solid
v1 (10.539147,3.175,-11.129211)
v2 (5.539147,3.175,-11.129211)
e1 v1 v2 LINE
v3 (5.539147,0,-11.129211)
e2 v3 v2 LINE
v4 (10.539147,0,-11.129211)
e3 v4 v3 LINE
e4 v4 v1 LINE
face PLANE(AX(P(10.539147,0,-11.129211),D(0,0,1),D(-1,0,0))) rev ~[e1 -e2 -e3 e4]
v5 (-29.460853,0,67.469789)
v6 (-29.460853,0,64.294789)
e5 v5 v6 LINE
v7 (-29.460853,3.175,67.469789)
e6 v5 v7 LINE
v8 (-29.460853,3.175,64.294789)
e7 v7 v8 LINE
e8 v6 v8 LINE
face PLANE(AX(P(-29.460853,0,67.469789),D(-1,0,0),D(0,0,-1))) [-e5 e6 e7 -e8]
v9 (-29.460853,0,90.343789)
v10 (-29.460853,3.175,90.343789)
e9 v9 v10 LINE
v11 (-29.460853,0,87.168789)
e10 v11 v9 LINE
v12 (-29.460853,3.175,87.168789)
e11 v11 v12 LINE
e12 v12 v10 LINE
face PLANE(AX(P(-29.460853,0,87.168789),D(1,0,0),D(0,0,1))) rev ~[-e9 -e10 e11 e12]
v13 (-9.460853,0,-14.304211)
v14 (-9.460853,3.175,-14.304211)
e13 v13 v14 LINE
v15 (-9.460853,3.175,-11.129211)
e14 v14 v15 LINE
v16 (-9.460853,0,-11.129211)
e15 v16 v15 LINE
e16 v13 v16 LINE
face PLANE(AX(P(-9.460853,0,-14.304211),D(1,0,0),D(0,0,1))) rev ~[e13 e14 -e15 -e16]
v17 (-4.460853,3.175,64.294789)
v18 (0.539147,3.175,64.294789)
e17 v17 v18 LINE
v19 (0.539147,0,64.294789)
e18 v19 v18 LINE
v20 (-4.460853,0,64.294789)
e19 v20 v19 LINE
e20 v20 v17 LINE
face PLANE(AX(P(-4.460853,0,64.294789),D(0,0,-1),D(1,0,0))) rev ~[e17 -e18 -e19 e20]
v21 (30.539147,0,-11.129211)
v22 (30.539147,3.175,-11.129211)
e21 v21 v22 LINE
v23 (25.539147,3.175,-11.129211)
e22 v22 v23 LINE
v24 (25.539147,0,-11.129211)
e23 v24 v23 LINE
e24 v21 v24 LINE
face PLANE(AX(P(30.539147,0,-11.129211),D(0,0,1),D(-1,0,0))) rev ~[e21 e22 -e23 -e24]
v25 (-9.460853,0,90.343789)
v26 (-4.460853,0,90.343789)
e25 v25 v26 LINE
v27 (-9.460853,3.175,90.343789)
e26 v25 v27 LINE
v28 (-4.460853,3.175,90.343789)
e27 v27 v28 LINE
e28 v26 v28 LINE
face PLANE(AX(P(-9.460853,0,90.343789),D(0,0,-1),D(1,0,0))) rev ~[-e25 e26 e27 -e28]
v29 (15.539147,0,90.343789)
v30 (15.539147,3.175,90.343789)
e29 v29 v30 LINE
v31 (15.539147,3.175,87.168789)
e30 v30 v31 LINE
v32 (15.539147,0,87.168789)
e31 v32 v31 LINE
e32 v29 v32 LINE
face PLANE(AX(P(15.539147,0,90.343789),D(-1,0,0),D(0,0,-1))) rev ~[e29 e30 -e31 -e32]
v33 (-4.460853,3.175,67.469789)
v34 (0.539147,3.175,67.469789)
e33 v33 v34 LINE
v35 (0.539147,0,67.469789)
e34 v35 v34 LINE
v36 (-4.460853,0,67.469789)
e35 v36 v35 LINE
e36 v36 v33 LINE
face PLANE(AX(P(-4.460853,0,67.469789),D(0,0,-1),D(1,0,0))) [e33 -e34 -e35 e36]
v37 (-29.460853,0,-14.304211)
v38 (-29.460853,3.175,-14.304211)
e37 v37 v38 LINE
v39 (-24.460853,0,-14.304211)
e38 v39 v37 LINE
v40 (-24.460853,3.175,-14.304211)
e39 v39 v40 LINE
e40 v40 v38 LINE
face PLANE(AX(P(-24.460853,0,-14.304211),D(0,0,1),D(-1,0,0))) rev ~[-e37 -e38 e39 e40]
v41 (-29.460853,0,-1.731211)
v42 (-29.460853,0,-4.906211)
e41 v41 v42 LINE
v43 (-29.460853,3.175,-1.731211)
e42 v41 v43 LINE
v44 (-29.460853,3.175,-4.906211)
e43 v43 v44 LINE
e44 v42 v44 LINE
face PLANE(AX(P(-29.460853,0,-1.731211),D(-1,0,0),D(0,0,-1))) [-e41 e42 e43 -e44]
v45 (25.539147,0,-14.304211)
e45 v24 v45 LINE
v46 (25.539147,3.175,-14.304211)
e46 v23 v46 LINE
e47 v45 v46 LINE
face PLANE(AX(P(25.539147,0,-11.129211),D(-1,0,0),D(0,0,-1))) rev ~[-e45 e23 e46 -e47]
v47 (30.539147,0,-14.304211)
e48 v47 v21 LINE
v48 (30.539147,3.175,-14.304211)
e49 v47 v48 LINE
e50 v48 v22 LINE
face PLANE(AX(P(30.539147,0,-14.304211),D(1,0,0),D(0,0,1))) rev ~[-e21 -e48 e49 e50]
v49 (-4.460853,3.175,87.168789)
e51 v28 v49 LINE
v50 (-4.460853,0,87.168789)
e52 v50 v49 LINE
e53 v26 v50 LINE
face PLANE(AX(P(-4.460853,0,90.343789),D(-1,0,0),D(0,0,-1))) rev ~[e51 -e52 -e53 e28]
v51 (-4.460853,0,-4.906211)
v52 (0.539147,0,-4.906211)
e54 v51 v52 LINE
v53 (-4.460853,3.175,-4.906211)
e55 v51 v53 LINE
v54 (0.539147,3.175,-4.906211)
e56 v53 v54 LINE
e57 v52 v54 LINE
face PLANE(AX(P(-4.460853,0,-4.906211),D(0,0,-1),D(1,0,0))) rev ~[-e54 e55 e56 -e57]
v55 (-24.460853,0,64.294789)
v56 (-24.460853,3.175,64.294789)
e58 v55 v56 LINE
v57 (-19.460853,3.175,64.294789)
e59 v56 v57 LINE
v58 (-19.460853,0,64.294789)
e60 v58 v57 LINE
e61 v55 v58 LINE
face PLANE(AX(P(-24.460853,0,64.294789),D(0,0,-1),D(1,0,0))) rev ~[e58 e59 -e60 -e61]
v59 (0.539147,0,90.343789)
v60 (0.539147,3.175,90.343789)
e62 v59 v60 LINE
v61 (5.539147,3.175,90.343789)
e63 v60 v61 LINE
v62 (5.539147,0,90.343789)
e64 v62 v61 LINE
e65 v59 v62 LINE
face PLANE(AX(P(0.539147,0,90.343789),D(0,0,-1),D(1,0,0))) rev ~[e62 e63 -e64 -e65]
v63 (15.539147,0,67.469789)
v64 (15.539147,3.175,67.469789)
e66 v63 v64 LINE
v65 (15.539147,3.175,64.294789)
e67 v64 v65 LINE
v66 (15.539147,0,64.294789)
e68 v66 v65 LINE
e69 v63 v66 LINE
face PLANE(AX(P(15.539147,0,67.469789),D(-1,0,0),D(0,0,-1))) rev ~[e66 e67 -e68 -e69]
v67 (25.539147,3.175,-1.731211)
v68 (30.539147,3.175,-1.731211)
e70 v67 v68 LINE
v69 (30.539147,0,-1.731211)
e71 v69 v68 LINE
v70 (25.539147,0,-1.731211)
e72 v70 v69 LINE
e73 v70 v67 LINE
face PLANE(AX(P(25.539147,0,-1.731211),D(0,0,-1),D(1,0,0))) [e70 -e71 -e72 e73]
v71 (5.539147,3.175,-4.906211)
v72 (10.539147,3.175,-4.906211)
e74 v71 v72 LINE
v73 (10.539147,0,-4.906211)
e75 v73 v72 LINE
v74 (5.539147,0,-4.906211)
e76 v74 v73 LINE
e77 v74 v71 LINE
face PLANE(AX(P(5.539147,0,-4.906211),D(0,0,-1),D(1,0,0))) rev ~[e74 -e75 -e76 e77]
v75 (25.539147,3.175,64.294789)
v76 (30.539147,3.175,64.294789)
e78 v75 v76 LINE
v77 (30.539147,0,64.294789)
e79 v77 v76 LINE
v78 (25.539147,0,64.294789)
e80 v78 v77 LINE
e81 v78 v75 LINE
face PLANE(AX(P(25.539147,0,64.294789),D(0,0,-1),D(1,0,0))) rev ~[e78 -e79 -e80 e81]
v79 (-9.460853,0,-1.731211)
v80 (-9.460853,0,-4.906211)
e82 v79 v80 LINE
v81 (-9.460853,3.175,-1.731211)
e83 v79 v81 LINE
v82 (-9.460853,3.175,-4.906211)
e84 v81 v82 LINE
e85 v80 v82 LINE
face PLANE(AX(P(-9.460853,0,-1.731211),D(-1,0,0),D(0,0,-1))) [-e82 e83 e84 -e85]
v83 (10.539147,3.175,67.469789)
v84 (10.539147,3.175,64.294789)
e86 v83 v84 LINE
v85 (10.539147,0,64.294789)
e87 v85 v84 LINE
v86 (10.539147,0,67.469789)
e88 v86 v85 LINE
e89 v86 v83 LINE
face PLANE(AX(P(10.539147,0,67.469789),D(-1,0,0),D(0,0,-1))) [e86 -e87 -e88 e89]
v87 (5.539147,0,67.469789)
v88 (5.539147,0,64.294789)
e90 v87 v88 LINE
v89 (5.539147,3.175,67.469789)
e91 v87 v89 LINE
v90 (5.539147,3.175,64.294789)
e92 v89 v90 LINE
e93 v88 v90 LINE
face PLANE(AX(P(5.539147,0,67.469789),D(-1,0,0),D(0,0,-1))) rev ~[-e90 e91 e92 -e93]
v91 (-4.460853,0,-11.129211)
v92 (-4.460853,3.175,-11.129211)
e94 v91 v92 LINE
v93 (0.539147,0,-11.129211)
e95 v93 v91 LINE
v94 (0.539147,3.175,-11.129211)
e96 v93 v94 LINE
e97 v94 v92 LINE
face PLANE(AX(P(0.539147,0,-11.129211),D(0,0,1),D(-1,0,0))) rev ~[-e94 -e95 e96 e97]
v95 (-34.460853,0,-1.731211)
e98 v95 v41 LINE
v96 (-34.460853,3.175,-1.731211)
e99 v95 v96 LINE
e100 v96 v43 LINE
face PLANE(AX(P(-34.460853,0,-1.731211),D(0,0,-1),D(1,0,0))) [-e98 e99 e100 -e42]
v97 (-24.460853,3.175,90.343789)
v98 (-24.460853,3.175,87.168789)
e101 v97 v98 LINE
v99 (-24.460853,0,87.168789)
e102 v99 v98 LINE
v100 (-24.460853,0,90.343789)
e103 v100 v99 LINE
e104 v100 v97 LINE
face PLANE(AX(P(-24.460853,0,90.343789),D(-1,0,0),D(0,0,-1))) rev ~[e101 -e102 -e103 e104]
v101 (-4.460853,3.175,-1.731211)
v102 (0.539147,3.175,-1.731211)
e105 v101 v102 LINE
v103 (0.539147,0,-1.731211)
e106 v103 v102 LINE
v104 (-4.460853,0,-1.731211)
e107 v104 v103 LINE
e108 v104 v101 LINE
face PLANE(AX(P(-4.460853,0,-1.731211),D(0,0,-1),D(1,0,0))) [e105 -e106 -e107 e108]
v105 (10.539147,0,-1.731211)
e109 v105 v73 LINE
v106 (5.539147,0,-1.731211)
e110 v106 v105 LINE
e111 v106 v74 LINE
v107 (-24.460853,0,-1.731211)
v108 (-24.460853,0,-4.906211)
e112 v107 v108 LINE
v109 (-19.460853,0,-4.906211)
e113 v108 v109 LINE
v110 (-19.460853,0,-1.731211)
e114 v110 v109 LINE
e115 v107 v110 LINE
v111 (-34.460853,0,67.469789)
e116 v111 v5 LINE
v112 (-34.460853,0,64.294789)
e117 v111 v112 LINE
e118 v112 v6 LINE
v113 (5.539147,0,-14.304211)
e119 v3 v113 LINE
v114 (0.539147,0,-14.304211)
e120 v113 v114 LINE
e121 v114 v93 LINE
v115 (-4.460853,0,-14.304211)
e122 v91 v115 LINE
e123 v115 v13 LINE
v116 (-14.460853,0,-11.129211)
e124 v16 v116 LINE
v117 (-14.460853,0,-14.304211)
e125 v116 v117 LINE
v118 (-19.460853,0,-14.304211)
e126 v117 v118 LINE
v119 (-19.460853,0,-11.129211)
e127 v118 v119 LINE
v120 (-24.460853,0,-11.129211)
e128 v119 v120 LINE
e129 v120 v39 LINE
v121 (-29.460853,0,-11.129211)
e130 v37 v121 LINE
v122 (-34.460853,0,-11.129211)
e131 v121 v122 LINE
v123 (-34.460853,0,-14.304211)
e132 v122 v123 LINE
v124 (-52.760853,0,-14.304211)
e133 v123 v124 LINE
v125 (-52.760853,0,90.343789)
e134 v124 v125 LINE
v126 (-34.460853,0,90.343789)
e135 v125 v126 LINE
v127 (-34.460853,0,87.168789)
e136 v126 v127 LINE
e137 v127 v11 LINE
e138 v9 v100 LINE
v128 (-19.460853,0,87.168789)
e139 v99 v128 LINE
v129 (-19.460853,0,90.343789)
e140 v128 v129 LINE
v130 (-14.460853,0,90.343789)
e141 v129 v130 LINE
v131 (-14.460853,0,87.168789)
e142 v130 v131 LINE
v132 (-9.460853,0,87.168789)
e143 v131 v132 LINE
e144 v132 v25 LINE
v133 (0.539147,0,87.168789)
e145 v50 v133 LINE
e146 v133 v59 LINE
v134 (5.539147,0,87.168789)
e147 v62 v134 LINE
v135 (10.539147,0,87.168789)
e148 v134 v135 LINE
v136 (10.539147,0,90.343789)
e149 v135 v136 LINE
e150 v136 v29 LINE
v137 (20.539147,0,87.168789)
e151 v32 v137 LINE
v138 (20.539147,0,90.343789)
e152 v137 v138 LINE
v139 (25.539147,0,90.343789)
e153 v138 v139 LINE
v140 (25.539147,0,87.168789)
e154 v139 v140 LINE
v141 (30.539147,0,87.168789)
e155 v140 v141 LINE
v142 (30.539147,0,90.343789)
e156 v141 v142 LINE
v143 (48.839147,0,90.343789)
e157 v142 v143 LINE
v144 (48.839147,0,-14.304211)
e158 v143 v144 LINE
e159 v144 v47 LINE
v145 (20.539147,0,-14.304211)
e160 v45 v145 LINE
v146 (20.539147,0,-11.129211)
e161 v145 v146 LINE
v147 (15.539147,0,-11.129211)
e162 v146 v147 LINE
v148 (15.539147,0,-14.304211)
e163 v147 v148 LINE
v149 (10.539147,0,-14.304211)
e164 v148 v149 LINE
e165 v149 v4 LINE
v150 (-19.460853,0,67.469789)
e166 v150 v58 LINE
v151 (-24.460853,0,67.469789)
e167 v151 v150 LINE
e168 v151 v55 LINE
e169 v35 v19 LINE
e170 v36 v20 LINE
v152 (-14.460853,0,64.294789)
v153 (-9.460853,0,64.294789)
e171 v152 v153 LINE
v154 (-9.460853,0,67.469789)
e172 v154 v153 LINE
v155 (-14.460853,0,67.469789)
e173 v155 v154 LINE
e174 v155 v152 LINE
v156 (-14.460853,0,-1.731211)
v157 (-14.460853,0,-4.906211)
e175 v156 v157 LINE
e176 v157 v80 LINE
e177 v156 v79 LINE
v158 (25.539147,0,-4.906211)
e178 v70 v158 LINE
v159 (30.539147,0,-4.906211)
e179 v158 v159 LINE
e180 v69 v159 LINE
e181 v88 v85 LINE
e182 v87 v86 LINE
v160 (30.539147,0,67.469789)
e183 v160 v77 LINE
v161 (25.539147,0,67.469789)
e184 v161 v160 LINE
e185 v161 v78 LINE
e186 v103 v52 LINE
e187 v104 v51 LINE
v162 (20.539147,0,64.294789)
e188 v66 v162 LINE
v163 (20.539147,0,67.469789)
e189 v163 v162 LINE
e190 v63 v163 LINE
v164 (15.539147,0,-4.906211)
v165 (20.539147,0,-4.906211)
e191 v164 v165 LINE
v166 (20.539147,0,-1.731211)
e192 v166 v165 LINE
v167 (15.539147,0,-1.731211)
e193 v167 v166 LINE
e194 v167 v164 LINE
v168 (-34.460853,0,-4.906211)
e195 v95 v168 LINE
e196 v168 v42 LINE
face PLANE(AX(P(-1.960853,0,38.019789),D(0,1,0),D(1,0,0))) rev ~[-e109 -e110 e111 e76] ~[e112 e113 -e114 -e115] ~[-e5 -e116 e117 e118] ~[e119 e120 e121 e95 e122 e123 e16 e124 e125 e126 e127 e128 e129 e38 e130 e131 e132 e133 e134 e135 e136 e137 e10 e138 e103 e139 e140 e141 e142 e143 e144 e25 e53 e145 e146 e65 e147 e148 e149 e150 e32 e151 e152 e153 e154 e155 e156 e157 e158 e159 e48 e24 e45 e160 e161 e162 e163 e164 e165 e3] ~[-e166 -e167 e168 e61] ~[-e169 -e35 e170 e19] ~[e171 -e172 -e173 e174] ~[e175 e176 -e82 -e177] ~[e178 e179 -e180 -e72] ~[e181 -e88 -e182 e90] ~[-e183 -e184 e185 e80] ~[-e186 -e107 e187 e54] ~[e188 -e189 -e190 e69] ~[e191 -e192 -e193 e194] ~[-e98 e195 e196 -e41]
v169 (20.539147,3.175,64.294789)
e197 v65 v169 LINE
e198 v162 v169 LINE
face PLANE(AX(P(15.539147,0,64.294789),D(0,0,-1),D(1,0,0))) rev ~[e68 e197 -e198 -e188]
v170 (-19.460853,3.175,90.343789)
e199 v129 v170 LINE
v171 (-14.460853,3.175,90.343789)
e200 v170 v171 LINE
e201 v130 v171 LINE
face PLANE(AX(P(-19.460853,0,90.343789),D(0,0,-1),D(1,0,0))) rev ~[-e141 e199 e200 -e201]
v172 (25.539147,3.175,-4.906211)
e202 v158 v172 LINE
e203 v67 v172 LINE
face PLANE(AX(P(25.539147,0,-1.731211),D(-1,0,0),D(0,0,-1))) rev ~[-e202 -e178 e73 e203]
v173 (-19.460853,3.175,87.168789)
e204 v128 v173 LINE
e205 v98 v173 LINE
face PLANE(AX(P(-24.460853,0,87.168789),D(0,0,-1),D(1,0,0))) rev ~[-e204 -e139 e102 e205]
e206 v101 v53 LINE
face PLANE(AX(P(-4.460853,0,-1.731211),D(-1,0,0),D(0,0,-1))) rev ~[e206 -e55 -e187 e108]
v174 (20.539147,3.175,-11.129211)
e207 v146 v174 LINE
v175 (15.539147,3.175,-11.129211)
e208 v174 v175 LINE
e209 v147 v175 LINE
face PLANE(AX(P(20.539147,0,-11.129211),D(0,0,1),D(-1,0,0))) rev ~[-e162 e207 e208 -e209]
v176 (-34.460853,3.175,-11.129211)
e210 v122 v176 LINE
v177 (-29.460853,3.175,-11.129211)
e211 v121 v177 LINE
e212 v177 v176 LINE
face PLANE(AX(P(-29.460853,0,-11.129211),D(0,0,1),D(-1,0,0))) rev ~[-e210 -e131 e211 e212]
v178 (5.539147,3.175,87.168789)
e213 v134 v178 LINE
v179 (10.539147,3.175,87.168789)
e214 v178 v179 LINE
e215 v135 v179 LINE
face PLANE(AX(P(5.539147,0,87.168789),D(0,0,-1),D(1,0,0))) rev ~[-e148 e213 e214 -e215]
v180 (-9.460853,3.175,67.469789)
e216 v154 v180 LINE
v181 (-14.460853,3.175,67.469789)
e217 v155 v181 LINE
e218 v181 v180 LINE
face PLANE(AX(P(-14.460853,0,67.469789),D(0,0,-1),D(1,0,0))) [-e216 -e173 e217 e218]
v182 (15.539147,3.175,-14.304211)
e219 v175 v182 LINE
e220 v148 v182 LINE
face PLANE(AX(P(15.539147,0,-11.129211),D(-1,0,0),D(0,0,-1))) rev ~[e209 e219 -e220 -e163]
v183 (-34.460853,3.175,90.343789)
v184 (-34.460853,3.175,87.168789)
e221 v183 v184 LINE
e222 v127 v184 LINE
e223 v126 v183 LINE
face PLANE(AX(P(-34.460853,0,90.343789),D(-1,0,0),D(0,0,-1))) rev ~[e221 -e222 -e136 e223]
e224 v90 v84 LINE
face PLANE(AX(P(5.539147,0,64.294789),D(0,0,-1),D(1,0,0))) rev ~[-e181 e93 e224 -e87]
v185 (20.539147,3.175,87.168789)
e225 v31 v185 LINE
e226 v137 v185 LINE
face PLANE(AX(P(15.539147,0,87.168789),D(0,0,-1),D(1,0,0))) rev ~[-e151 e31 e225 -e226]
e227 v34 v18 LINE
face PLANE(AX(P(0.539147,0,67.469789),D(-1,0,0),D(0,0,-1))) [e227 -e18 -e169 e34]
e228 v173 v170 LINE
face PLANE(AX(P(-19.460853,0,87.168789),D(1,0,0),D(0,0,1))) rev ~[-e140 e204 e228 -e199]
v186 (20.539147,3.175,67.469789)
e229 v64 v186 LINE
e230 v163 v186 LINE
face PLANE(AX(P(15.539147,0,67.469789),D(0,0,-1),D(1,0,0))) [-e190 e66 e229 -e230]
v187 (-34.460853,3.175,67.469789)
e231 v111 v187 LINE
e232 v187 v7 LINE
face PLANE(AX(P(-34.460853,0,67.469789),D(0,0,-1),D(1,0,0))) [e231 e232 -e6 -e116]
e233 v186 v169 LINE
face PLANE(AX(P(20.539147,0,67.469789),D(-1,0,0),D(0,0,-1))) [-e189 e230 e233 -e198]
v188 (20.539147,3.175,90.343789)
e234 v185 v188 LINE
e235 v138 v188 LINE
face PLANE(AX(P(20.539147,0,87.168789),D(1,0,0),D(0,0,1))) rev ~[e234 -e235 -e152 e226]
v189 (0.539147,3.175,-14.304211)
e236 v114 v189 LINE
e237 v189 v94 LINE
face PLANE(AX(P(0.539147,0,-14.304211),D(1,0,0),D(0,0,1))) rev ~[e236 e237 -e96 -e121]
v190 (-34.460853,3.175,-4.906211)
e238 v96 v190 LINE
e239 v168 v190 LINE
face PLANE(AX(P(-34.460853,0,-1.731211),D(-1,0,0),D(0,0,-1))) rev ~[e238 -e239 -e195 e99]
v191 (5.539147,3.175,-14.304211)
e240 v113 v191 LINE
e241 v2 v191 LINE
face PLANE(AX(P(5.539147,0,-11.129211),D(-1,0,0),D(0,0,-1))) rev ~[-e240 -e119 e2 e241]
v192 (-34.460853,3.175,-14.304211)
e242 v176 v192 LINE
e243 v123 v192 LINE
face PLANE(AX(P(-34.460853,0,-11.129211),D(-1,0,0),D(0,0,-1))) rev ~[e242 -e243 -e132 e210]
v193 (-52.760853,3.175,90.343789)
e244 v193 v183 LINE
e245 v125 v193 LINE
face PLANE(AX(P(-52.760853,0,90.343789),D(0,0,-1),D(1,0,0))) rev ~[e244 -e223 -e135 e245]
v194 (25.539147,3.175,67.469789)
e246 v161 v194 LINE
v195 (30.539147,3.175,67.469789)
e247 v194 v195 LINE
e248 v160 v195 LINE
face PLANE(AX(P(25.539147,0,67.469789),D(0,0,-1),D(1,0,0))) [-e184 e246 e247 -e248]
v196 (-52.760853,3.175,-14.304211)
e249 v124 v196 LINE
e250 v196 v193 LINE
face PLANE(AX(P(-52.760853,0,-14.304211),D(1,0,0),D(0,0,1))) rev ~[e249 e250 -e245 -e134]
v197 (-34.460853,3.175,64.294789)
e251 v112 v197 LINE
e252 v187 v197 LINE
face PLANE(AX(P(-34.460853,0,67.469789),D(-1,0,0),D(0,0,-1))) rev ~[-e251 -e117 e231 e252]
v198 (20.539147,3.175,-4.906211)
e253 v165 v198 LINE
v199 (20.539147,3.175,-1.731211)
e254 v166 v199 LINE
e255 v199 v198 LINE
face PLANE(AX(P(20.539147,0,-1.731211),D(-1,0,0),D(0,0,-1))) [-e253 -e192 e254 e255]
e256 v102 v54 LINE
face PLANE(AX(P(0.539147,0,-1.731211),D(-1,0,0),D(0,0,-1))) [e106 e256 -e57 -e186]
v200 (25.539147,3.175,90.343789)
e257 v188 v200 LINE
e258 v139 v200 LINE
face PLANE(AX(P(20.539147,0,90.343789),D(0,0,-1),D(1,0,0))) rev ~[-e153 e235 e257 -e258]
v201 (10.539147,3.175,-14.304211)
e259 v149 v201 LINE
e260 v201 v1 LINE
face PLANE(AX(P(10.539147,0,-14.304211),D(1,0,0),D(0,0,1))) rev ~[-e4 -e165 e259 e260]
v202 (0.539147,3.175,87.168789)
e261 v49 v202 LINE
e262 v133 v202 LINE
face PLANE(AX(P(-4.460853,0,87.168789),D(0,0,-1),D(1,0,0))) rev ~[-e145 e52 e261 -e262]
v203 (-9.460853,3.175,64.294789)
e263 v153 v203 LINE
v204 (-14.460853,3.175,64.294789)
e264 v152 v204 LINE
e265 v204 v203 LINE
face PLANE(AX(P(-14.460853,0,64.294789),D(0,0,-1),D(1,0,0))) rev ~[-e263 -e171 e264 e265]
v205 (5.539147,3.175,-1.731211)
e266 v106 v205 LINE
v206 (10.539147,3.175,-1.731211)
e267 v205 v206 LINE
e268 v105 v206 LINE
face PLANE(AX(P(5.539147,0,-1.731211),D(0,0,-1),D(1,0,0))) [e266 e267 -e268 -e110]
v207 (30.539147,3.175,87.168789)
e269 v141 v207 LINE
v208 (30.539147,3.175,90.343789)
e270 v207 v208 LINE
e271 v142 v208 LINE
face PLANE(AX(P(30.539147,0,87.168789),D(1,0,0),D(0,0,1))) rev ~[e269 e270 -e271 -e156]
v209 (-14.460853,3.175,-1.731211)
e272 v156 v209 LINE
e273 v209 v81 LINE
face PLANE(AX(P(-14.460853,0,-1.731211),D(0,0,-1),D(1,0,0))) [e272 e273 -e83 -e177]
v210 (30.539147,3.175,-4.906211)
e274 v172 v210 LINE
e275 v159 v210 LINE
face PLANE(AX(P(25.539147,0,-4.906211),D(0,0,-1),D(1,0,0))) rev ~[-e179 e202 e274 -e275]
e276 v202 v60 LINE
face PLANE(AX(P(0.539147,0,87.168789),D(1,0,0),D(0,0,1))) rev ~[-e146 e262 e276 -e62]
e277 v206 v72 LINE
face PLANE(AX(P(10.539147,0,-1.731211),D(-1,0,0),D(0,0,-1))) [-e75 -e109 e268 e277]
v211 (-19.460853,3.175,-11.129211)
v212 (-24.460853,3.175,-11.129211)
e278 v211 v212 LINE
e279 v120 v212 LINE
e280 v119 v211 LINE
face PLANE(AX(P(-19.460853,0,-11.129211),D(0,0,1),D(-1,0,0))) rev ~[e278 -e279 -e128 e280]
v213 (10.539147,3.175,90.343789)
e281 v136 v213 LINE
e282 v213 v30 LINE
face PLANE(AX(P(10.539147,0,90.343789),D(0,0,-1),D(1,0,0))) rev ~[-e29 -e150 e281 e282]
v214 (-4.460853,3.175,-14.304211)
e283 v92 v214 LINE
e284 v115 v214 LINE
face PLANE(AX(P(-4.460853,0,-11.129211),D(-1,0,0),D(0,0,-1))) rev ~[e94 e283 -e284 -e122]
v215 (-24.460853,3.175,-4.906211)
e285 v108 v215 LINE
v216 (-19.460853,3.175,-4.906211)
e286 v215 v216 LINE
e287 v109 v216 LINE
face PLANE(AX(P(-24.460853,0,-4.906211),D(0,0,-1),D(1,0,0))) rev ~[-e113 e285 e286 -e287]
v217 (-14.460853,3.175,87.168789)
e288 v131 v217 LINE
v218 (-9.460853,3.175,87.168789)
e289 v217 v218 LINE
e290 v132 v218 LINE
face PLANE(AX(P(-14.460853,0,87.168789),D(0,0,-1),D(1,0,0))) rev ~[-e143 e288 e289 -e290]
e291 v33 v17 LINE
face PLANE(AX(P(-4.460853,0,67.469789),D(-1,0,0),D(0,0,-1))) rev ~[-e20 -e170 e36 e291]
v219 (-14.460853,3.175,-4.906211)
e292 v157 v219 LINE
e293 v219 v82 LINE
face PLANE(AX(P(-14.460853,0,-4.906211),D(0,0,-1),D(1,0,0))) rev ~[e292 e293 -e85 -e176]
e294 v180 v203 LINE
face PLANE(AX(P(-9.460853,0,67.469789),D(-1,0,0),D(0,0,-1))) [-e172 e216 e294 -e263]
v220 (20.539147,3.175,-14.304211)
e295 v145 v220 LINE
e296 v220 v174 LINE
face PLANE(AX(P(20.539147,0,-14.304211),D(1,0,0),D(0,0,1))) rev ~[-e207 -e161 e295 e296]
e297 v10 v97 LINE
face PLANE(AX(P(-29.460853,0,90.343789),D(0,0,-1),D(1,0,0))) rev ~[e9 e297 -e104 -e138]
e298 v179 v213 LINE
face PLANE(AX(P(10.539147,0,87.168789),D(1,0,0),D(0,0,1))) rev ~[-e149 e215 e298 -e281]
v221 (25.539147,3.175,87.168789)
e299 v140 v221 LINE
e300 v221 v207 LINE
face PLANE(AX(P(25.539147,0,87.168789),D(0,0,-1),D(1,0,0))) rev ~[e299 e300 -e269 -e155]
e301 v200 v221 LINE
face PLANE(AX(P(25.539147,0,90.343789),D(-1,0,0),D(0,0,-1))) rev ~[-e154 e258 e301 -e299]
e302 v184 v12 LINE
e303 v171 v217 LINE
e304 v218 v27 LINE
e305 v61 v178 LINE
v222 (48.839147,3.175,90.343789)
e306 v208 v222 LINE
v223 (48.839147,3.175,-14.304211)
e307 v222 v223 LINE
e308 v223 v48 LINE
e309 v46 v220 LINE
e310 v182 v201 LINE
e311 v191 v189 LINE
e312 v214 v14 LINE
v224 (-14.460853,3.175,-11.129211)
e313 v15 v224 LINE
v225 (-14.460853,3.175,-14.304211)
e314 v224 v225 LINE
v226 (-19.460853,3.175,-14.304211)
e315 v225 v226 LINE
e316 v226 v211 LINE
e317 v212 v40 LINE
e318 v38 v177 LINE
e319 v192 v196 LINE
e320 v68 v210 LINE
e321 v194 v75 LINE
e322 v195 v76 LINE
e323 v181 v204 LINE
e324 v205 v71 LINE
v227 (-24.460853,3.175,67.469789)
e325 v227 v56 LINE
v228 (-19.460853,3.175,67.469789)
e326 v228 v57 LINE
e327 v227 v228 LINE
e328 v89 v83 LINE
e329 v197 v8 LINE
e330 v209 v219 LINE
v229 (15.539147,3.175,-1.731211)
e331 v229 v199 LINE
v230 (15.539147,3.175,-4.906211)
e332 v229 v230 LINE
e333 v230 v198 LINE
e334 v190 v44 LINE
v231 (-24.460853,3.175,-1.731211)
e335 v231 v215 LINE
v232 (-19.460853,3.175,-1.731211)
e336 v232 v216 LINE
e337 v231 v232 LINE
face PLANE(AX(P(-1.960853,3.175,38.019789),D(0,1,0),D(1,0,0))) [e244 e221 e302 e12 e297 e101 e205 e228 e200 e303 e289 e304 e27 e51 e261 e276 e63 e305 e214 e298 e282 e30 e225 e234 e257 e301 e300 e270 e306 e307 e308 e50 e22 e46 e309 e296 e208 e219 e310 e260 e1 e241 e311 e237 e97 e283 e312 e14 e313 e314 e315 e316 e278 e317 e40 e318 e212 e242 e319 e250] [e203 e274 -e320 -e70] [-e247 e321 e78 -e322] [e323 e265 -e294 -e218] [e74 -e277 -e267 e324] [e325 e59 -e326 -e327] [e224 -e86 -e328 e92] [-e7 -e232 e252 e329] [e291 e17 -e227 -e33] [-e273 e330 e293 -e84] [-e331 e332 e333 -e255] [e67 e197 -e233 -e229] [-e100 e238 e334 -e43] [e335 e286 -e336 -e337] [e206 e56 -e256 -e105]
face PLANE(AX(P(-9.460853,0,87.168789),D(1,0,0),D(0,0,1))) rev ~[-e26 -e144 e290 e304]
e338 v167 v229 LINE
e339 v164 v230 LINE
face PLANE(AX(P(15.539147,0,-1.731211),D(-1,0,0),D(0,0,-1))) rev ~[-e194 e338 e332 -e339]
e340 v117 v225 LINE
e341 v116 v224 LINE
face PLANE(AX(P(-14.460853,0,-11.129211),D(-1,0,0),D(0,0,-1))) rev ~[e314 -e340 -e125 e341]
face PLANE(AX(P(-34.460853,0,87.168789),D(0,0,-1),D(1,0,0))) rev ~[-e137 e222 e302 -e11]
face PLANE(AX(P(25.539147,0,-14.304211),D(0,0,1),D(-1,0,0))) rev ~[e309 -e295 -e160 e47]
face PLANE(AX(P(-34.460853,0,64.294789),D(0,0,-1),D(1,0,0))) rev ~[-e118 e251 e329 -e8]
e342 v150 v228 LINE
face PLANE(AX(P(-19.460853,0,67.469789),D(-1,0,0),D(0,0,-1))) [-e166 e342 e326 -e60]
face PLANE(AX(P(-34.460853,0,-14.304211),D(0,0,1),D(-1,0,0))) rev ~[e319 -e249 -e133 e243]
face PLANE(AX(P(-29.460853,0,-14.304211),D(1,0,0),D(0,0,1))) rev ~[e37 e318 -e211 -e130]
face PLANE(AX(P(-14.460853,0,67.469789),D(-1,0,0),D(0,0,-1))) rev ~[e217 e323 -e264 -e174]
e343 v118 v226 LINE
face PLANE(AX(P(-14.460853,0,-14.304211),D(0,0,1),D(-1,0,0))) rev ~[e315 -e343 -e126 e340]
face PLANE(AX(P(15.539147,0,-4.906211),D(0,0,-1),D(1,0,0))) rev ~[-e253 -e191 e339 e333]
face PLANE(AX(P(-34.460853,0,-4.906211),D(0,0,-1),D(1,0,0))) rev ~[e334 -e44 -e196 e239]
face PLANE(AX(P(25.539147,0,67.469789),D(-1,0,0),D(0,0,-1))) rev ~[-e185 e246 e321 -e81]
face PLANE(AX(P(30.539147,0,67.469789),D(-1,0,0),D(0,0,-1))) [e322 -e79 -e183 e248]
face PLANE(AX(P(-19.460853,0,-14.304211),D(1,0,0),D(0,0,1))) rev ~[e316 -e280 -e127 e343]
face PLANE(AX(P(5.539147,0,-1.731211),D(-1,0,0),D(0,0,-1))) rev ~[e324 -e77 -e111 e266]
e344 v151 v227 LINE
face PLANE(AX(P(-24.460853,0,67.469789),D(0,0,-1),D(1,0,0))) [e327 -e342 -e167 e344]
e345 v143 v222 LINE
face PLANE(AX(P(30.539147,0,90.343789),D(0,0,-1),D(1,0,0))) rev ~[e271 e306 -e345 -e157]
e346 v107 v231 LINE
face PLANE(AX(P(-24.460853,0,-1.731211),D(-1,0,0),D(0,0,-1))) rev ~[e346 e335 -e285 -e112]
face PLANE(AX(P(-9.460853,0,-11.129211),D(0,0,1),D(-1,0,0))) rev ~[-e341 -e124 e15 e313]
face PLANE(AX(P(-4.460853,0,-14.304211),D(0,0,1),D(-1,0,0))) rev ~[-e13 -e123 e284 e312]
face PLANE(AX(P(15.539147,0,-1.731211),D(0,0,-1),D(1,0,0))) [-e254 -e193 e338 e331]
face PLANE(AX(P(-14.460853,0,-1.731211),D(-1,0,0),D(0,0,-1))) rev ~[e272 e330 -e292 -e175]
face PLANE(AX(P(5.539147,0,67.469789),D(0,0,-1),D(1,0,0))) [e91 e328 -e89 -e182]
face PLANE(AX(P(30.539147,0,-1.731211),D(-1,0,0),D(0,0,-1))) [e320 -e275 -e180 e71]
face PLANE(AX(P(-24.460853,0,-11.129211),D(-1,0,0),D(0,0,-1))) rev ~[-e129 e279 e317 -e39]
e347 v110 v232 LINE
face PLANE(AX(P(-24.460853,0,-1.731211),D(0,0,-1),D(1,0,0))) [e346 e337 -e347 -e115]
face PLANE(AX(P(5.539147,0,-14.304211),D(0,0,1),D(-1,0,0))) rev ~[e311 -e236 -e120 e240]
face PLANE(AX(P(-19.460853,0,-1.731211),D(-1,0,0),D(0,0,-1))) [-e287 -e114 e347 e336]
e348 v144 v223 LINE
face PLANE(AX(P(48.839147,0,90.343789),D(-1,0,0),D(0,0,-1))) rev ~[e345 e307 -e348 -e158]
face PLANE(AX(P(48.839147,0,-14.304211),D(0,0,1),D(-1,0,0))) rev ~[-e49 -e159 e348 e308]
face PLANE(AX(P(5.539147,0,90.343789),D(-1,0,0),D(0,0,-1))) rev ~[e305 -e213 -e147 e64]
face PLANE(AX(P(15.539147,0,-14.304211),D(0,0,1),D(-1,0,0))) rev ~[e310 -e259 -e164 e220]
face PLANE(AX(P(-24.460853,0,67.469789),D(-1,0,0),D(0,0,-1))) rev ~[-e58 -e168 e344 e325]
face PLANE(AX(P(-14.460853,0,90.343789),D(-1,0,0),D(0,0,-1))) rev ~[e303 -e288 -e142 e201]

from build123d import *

# Parameters (mm, degrees)
SKETCH1_W           = 5
SKETCH1_H           = 3.175
BOSS_EXTRUDE1_DEPTH = 3.175


with BuildPart() as part:
    # Sketch1 → Boss-Extrude1 (new body)
    with BuildSketch(Plane(origin=(0, 0, 0), x_dir=(1, 0, 0), z_dir=(0, 1, 0))):
        Polygon((-34.46085268, -90.343789474), (-34.46085268, -87.168789474), (-29.46085268, -87.168789474), (-29.46085268, -90.343789474), (-24.46085268, -90.343789474), (-24.46085268, -87.168789474), (-19.46085268, -87.168789474), (-19.46085268, -90.343789474), (-14.46085268, -90.343789474), (-14.46085268, -87.168789474), (-9.46085268, -87.168789474), (-9.46085268, -90.343789474), (-4.46085268, -90.343789474), (-4.46085268, -87.168789474), (0.53914732, -87.168789474), (0.53914732, -90.343789474), (5.53914732, -90.343789474), (5.53914732, -87.168789474), (10.53914732, -87.168789474), (10.53914732, -90.343789474), (15.53914732, -90.343789474), (15.53914732, -87.168789474), (20.53914732, -87.168789474), (20.53914732, -90.343789474), (25.53914732, -90.343789474), (25.53914732, -87.168789474), (30.53914732, -87.168789474), (30.53914732, -90.343789474), (48.83914732, -90.343789474), (48.83914732, 14.304210526), (30.53914732, 14.304210526), (30.53914732, 11.129210526), (25.53914732, 11.129210526), (25.53914732, 14.304210526), (20.53914732, 14.304210526), (20.53914732, 11.129210526), (15.53914732, 11.129210526), (15.53914732, 14.304210526), (10.53914732, 14.304210526), (10.53914732, 11.129210526), (5.53914732, 11.129210526), (5.53914732, 14.304210526), (0.53914732, 14.304210526), (0.53914732, 11.129210526), (-4.46085268, 11.129210526), (-4.46085268, 14.304210526), (-9.46085268, 14.304210526), (-9.46085268, 11.129210526), (-14.46085268, 11.129210526), (-14.46085268, 14.304210526), (-19.46085268, 14.304210526), (-19.46085268, 11.129210526), (-24.46085268, 11.129210526), (-24.46085268, 14.304210526), (-29.46085268, 14.304210526), (-29.46085268, 11.129210526), (-34.46085268, 11.129210526), (-34.46085268, 14.304210526), (-52.76085268, 14.304210526), (-52.76085268, -90.343789474), align=None)
        with Locations((-21.96085268, 3.318710526)):
            Rectangle(SKETCH1_W, SKETCH1_H, mode=Mode.SUBTRACT)
        with Locations((-31.96085268, 3.318710526)):
            Rectangle(SKETCH1_W, SKETCH1_H, mode=Mode.SUBTRACT)
        with Locations((-11.96085268, 3.318710526)):
            Rectangle(SKETCH1_W, SKETCH1_H, mode=Mode.SUBTRACT)
        with Locations((-1.96085268, 3.318710526)):
            Rectangle(SKETCH1_W, SKETCH1_H, mode=Mode.SUBTRACT)
        with Locations((8.03914732, 3.318710526)):
            Rectangle(SKETCH1_W, SKETCH1_H, mode=Mode.SUBTRACT)
        with Locations((18.03914732, 3.318710526)):
            Rectangle(SKETCH1_W, SKETCH1_H, mode=Mode.SUBTRACT)
        with Locations((28.03914732, 3.318710526)):
            Rectangle(SKETCH1_W, SKETCH1_H, mode=Mode.SUBTRACT)
        with Locations((-21.96085268, -65.882289474)):
            Rectangle(SKETCH1_W, SKETCH1_H, mode=Mode.SUBTRACT)
        with Locations((-31.96085268, -65.882289474)):
            Rectangle(SKETCH1_W, SKETCH1_H, mode=Mode.SUBTRACT)
        with Locations((-11.96085268, -65.882289474)):
            Rectangle(SKETCH1_W, SKETCH1_H, mode=Mode.SUBTRACT)
        with Locations((-1.96085268, -65.882289474)):
            Rectangle(SKETCH1_W, SKETCH1_H, mode=Mode.SUBTRACT)
        with Locations((8.03914732, -65.882289474)):
            Rectangle(SKETCH1_W, SKETCH1_H, mode=Mode.SUBTRACT)
        with Locations((18.03914732, -65.882289474)):
            Rectangle(SKETCH1_W, SKETCH1_H, mode=Mode.SUBTRACT)
        with Locations((28.03914732, -65.882289474)):
            Rectangle(SKETCH1_W, SKETCH1_H, mode=Mode.SUBTRACT)
    extrude(amount=BOSS_EXTRUDE1_DEPTH)


solid = part.part
